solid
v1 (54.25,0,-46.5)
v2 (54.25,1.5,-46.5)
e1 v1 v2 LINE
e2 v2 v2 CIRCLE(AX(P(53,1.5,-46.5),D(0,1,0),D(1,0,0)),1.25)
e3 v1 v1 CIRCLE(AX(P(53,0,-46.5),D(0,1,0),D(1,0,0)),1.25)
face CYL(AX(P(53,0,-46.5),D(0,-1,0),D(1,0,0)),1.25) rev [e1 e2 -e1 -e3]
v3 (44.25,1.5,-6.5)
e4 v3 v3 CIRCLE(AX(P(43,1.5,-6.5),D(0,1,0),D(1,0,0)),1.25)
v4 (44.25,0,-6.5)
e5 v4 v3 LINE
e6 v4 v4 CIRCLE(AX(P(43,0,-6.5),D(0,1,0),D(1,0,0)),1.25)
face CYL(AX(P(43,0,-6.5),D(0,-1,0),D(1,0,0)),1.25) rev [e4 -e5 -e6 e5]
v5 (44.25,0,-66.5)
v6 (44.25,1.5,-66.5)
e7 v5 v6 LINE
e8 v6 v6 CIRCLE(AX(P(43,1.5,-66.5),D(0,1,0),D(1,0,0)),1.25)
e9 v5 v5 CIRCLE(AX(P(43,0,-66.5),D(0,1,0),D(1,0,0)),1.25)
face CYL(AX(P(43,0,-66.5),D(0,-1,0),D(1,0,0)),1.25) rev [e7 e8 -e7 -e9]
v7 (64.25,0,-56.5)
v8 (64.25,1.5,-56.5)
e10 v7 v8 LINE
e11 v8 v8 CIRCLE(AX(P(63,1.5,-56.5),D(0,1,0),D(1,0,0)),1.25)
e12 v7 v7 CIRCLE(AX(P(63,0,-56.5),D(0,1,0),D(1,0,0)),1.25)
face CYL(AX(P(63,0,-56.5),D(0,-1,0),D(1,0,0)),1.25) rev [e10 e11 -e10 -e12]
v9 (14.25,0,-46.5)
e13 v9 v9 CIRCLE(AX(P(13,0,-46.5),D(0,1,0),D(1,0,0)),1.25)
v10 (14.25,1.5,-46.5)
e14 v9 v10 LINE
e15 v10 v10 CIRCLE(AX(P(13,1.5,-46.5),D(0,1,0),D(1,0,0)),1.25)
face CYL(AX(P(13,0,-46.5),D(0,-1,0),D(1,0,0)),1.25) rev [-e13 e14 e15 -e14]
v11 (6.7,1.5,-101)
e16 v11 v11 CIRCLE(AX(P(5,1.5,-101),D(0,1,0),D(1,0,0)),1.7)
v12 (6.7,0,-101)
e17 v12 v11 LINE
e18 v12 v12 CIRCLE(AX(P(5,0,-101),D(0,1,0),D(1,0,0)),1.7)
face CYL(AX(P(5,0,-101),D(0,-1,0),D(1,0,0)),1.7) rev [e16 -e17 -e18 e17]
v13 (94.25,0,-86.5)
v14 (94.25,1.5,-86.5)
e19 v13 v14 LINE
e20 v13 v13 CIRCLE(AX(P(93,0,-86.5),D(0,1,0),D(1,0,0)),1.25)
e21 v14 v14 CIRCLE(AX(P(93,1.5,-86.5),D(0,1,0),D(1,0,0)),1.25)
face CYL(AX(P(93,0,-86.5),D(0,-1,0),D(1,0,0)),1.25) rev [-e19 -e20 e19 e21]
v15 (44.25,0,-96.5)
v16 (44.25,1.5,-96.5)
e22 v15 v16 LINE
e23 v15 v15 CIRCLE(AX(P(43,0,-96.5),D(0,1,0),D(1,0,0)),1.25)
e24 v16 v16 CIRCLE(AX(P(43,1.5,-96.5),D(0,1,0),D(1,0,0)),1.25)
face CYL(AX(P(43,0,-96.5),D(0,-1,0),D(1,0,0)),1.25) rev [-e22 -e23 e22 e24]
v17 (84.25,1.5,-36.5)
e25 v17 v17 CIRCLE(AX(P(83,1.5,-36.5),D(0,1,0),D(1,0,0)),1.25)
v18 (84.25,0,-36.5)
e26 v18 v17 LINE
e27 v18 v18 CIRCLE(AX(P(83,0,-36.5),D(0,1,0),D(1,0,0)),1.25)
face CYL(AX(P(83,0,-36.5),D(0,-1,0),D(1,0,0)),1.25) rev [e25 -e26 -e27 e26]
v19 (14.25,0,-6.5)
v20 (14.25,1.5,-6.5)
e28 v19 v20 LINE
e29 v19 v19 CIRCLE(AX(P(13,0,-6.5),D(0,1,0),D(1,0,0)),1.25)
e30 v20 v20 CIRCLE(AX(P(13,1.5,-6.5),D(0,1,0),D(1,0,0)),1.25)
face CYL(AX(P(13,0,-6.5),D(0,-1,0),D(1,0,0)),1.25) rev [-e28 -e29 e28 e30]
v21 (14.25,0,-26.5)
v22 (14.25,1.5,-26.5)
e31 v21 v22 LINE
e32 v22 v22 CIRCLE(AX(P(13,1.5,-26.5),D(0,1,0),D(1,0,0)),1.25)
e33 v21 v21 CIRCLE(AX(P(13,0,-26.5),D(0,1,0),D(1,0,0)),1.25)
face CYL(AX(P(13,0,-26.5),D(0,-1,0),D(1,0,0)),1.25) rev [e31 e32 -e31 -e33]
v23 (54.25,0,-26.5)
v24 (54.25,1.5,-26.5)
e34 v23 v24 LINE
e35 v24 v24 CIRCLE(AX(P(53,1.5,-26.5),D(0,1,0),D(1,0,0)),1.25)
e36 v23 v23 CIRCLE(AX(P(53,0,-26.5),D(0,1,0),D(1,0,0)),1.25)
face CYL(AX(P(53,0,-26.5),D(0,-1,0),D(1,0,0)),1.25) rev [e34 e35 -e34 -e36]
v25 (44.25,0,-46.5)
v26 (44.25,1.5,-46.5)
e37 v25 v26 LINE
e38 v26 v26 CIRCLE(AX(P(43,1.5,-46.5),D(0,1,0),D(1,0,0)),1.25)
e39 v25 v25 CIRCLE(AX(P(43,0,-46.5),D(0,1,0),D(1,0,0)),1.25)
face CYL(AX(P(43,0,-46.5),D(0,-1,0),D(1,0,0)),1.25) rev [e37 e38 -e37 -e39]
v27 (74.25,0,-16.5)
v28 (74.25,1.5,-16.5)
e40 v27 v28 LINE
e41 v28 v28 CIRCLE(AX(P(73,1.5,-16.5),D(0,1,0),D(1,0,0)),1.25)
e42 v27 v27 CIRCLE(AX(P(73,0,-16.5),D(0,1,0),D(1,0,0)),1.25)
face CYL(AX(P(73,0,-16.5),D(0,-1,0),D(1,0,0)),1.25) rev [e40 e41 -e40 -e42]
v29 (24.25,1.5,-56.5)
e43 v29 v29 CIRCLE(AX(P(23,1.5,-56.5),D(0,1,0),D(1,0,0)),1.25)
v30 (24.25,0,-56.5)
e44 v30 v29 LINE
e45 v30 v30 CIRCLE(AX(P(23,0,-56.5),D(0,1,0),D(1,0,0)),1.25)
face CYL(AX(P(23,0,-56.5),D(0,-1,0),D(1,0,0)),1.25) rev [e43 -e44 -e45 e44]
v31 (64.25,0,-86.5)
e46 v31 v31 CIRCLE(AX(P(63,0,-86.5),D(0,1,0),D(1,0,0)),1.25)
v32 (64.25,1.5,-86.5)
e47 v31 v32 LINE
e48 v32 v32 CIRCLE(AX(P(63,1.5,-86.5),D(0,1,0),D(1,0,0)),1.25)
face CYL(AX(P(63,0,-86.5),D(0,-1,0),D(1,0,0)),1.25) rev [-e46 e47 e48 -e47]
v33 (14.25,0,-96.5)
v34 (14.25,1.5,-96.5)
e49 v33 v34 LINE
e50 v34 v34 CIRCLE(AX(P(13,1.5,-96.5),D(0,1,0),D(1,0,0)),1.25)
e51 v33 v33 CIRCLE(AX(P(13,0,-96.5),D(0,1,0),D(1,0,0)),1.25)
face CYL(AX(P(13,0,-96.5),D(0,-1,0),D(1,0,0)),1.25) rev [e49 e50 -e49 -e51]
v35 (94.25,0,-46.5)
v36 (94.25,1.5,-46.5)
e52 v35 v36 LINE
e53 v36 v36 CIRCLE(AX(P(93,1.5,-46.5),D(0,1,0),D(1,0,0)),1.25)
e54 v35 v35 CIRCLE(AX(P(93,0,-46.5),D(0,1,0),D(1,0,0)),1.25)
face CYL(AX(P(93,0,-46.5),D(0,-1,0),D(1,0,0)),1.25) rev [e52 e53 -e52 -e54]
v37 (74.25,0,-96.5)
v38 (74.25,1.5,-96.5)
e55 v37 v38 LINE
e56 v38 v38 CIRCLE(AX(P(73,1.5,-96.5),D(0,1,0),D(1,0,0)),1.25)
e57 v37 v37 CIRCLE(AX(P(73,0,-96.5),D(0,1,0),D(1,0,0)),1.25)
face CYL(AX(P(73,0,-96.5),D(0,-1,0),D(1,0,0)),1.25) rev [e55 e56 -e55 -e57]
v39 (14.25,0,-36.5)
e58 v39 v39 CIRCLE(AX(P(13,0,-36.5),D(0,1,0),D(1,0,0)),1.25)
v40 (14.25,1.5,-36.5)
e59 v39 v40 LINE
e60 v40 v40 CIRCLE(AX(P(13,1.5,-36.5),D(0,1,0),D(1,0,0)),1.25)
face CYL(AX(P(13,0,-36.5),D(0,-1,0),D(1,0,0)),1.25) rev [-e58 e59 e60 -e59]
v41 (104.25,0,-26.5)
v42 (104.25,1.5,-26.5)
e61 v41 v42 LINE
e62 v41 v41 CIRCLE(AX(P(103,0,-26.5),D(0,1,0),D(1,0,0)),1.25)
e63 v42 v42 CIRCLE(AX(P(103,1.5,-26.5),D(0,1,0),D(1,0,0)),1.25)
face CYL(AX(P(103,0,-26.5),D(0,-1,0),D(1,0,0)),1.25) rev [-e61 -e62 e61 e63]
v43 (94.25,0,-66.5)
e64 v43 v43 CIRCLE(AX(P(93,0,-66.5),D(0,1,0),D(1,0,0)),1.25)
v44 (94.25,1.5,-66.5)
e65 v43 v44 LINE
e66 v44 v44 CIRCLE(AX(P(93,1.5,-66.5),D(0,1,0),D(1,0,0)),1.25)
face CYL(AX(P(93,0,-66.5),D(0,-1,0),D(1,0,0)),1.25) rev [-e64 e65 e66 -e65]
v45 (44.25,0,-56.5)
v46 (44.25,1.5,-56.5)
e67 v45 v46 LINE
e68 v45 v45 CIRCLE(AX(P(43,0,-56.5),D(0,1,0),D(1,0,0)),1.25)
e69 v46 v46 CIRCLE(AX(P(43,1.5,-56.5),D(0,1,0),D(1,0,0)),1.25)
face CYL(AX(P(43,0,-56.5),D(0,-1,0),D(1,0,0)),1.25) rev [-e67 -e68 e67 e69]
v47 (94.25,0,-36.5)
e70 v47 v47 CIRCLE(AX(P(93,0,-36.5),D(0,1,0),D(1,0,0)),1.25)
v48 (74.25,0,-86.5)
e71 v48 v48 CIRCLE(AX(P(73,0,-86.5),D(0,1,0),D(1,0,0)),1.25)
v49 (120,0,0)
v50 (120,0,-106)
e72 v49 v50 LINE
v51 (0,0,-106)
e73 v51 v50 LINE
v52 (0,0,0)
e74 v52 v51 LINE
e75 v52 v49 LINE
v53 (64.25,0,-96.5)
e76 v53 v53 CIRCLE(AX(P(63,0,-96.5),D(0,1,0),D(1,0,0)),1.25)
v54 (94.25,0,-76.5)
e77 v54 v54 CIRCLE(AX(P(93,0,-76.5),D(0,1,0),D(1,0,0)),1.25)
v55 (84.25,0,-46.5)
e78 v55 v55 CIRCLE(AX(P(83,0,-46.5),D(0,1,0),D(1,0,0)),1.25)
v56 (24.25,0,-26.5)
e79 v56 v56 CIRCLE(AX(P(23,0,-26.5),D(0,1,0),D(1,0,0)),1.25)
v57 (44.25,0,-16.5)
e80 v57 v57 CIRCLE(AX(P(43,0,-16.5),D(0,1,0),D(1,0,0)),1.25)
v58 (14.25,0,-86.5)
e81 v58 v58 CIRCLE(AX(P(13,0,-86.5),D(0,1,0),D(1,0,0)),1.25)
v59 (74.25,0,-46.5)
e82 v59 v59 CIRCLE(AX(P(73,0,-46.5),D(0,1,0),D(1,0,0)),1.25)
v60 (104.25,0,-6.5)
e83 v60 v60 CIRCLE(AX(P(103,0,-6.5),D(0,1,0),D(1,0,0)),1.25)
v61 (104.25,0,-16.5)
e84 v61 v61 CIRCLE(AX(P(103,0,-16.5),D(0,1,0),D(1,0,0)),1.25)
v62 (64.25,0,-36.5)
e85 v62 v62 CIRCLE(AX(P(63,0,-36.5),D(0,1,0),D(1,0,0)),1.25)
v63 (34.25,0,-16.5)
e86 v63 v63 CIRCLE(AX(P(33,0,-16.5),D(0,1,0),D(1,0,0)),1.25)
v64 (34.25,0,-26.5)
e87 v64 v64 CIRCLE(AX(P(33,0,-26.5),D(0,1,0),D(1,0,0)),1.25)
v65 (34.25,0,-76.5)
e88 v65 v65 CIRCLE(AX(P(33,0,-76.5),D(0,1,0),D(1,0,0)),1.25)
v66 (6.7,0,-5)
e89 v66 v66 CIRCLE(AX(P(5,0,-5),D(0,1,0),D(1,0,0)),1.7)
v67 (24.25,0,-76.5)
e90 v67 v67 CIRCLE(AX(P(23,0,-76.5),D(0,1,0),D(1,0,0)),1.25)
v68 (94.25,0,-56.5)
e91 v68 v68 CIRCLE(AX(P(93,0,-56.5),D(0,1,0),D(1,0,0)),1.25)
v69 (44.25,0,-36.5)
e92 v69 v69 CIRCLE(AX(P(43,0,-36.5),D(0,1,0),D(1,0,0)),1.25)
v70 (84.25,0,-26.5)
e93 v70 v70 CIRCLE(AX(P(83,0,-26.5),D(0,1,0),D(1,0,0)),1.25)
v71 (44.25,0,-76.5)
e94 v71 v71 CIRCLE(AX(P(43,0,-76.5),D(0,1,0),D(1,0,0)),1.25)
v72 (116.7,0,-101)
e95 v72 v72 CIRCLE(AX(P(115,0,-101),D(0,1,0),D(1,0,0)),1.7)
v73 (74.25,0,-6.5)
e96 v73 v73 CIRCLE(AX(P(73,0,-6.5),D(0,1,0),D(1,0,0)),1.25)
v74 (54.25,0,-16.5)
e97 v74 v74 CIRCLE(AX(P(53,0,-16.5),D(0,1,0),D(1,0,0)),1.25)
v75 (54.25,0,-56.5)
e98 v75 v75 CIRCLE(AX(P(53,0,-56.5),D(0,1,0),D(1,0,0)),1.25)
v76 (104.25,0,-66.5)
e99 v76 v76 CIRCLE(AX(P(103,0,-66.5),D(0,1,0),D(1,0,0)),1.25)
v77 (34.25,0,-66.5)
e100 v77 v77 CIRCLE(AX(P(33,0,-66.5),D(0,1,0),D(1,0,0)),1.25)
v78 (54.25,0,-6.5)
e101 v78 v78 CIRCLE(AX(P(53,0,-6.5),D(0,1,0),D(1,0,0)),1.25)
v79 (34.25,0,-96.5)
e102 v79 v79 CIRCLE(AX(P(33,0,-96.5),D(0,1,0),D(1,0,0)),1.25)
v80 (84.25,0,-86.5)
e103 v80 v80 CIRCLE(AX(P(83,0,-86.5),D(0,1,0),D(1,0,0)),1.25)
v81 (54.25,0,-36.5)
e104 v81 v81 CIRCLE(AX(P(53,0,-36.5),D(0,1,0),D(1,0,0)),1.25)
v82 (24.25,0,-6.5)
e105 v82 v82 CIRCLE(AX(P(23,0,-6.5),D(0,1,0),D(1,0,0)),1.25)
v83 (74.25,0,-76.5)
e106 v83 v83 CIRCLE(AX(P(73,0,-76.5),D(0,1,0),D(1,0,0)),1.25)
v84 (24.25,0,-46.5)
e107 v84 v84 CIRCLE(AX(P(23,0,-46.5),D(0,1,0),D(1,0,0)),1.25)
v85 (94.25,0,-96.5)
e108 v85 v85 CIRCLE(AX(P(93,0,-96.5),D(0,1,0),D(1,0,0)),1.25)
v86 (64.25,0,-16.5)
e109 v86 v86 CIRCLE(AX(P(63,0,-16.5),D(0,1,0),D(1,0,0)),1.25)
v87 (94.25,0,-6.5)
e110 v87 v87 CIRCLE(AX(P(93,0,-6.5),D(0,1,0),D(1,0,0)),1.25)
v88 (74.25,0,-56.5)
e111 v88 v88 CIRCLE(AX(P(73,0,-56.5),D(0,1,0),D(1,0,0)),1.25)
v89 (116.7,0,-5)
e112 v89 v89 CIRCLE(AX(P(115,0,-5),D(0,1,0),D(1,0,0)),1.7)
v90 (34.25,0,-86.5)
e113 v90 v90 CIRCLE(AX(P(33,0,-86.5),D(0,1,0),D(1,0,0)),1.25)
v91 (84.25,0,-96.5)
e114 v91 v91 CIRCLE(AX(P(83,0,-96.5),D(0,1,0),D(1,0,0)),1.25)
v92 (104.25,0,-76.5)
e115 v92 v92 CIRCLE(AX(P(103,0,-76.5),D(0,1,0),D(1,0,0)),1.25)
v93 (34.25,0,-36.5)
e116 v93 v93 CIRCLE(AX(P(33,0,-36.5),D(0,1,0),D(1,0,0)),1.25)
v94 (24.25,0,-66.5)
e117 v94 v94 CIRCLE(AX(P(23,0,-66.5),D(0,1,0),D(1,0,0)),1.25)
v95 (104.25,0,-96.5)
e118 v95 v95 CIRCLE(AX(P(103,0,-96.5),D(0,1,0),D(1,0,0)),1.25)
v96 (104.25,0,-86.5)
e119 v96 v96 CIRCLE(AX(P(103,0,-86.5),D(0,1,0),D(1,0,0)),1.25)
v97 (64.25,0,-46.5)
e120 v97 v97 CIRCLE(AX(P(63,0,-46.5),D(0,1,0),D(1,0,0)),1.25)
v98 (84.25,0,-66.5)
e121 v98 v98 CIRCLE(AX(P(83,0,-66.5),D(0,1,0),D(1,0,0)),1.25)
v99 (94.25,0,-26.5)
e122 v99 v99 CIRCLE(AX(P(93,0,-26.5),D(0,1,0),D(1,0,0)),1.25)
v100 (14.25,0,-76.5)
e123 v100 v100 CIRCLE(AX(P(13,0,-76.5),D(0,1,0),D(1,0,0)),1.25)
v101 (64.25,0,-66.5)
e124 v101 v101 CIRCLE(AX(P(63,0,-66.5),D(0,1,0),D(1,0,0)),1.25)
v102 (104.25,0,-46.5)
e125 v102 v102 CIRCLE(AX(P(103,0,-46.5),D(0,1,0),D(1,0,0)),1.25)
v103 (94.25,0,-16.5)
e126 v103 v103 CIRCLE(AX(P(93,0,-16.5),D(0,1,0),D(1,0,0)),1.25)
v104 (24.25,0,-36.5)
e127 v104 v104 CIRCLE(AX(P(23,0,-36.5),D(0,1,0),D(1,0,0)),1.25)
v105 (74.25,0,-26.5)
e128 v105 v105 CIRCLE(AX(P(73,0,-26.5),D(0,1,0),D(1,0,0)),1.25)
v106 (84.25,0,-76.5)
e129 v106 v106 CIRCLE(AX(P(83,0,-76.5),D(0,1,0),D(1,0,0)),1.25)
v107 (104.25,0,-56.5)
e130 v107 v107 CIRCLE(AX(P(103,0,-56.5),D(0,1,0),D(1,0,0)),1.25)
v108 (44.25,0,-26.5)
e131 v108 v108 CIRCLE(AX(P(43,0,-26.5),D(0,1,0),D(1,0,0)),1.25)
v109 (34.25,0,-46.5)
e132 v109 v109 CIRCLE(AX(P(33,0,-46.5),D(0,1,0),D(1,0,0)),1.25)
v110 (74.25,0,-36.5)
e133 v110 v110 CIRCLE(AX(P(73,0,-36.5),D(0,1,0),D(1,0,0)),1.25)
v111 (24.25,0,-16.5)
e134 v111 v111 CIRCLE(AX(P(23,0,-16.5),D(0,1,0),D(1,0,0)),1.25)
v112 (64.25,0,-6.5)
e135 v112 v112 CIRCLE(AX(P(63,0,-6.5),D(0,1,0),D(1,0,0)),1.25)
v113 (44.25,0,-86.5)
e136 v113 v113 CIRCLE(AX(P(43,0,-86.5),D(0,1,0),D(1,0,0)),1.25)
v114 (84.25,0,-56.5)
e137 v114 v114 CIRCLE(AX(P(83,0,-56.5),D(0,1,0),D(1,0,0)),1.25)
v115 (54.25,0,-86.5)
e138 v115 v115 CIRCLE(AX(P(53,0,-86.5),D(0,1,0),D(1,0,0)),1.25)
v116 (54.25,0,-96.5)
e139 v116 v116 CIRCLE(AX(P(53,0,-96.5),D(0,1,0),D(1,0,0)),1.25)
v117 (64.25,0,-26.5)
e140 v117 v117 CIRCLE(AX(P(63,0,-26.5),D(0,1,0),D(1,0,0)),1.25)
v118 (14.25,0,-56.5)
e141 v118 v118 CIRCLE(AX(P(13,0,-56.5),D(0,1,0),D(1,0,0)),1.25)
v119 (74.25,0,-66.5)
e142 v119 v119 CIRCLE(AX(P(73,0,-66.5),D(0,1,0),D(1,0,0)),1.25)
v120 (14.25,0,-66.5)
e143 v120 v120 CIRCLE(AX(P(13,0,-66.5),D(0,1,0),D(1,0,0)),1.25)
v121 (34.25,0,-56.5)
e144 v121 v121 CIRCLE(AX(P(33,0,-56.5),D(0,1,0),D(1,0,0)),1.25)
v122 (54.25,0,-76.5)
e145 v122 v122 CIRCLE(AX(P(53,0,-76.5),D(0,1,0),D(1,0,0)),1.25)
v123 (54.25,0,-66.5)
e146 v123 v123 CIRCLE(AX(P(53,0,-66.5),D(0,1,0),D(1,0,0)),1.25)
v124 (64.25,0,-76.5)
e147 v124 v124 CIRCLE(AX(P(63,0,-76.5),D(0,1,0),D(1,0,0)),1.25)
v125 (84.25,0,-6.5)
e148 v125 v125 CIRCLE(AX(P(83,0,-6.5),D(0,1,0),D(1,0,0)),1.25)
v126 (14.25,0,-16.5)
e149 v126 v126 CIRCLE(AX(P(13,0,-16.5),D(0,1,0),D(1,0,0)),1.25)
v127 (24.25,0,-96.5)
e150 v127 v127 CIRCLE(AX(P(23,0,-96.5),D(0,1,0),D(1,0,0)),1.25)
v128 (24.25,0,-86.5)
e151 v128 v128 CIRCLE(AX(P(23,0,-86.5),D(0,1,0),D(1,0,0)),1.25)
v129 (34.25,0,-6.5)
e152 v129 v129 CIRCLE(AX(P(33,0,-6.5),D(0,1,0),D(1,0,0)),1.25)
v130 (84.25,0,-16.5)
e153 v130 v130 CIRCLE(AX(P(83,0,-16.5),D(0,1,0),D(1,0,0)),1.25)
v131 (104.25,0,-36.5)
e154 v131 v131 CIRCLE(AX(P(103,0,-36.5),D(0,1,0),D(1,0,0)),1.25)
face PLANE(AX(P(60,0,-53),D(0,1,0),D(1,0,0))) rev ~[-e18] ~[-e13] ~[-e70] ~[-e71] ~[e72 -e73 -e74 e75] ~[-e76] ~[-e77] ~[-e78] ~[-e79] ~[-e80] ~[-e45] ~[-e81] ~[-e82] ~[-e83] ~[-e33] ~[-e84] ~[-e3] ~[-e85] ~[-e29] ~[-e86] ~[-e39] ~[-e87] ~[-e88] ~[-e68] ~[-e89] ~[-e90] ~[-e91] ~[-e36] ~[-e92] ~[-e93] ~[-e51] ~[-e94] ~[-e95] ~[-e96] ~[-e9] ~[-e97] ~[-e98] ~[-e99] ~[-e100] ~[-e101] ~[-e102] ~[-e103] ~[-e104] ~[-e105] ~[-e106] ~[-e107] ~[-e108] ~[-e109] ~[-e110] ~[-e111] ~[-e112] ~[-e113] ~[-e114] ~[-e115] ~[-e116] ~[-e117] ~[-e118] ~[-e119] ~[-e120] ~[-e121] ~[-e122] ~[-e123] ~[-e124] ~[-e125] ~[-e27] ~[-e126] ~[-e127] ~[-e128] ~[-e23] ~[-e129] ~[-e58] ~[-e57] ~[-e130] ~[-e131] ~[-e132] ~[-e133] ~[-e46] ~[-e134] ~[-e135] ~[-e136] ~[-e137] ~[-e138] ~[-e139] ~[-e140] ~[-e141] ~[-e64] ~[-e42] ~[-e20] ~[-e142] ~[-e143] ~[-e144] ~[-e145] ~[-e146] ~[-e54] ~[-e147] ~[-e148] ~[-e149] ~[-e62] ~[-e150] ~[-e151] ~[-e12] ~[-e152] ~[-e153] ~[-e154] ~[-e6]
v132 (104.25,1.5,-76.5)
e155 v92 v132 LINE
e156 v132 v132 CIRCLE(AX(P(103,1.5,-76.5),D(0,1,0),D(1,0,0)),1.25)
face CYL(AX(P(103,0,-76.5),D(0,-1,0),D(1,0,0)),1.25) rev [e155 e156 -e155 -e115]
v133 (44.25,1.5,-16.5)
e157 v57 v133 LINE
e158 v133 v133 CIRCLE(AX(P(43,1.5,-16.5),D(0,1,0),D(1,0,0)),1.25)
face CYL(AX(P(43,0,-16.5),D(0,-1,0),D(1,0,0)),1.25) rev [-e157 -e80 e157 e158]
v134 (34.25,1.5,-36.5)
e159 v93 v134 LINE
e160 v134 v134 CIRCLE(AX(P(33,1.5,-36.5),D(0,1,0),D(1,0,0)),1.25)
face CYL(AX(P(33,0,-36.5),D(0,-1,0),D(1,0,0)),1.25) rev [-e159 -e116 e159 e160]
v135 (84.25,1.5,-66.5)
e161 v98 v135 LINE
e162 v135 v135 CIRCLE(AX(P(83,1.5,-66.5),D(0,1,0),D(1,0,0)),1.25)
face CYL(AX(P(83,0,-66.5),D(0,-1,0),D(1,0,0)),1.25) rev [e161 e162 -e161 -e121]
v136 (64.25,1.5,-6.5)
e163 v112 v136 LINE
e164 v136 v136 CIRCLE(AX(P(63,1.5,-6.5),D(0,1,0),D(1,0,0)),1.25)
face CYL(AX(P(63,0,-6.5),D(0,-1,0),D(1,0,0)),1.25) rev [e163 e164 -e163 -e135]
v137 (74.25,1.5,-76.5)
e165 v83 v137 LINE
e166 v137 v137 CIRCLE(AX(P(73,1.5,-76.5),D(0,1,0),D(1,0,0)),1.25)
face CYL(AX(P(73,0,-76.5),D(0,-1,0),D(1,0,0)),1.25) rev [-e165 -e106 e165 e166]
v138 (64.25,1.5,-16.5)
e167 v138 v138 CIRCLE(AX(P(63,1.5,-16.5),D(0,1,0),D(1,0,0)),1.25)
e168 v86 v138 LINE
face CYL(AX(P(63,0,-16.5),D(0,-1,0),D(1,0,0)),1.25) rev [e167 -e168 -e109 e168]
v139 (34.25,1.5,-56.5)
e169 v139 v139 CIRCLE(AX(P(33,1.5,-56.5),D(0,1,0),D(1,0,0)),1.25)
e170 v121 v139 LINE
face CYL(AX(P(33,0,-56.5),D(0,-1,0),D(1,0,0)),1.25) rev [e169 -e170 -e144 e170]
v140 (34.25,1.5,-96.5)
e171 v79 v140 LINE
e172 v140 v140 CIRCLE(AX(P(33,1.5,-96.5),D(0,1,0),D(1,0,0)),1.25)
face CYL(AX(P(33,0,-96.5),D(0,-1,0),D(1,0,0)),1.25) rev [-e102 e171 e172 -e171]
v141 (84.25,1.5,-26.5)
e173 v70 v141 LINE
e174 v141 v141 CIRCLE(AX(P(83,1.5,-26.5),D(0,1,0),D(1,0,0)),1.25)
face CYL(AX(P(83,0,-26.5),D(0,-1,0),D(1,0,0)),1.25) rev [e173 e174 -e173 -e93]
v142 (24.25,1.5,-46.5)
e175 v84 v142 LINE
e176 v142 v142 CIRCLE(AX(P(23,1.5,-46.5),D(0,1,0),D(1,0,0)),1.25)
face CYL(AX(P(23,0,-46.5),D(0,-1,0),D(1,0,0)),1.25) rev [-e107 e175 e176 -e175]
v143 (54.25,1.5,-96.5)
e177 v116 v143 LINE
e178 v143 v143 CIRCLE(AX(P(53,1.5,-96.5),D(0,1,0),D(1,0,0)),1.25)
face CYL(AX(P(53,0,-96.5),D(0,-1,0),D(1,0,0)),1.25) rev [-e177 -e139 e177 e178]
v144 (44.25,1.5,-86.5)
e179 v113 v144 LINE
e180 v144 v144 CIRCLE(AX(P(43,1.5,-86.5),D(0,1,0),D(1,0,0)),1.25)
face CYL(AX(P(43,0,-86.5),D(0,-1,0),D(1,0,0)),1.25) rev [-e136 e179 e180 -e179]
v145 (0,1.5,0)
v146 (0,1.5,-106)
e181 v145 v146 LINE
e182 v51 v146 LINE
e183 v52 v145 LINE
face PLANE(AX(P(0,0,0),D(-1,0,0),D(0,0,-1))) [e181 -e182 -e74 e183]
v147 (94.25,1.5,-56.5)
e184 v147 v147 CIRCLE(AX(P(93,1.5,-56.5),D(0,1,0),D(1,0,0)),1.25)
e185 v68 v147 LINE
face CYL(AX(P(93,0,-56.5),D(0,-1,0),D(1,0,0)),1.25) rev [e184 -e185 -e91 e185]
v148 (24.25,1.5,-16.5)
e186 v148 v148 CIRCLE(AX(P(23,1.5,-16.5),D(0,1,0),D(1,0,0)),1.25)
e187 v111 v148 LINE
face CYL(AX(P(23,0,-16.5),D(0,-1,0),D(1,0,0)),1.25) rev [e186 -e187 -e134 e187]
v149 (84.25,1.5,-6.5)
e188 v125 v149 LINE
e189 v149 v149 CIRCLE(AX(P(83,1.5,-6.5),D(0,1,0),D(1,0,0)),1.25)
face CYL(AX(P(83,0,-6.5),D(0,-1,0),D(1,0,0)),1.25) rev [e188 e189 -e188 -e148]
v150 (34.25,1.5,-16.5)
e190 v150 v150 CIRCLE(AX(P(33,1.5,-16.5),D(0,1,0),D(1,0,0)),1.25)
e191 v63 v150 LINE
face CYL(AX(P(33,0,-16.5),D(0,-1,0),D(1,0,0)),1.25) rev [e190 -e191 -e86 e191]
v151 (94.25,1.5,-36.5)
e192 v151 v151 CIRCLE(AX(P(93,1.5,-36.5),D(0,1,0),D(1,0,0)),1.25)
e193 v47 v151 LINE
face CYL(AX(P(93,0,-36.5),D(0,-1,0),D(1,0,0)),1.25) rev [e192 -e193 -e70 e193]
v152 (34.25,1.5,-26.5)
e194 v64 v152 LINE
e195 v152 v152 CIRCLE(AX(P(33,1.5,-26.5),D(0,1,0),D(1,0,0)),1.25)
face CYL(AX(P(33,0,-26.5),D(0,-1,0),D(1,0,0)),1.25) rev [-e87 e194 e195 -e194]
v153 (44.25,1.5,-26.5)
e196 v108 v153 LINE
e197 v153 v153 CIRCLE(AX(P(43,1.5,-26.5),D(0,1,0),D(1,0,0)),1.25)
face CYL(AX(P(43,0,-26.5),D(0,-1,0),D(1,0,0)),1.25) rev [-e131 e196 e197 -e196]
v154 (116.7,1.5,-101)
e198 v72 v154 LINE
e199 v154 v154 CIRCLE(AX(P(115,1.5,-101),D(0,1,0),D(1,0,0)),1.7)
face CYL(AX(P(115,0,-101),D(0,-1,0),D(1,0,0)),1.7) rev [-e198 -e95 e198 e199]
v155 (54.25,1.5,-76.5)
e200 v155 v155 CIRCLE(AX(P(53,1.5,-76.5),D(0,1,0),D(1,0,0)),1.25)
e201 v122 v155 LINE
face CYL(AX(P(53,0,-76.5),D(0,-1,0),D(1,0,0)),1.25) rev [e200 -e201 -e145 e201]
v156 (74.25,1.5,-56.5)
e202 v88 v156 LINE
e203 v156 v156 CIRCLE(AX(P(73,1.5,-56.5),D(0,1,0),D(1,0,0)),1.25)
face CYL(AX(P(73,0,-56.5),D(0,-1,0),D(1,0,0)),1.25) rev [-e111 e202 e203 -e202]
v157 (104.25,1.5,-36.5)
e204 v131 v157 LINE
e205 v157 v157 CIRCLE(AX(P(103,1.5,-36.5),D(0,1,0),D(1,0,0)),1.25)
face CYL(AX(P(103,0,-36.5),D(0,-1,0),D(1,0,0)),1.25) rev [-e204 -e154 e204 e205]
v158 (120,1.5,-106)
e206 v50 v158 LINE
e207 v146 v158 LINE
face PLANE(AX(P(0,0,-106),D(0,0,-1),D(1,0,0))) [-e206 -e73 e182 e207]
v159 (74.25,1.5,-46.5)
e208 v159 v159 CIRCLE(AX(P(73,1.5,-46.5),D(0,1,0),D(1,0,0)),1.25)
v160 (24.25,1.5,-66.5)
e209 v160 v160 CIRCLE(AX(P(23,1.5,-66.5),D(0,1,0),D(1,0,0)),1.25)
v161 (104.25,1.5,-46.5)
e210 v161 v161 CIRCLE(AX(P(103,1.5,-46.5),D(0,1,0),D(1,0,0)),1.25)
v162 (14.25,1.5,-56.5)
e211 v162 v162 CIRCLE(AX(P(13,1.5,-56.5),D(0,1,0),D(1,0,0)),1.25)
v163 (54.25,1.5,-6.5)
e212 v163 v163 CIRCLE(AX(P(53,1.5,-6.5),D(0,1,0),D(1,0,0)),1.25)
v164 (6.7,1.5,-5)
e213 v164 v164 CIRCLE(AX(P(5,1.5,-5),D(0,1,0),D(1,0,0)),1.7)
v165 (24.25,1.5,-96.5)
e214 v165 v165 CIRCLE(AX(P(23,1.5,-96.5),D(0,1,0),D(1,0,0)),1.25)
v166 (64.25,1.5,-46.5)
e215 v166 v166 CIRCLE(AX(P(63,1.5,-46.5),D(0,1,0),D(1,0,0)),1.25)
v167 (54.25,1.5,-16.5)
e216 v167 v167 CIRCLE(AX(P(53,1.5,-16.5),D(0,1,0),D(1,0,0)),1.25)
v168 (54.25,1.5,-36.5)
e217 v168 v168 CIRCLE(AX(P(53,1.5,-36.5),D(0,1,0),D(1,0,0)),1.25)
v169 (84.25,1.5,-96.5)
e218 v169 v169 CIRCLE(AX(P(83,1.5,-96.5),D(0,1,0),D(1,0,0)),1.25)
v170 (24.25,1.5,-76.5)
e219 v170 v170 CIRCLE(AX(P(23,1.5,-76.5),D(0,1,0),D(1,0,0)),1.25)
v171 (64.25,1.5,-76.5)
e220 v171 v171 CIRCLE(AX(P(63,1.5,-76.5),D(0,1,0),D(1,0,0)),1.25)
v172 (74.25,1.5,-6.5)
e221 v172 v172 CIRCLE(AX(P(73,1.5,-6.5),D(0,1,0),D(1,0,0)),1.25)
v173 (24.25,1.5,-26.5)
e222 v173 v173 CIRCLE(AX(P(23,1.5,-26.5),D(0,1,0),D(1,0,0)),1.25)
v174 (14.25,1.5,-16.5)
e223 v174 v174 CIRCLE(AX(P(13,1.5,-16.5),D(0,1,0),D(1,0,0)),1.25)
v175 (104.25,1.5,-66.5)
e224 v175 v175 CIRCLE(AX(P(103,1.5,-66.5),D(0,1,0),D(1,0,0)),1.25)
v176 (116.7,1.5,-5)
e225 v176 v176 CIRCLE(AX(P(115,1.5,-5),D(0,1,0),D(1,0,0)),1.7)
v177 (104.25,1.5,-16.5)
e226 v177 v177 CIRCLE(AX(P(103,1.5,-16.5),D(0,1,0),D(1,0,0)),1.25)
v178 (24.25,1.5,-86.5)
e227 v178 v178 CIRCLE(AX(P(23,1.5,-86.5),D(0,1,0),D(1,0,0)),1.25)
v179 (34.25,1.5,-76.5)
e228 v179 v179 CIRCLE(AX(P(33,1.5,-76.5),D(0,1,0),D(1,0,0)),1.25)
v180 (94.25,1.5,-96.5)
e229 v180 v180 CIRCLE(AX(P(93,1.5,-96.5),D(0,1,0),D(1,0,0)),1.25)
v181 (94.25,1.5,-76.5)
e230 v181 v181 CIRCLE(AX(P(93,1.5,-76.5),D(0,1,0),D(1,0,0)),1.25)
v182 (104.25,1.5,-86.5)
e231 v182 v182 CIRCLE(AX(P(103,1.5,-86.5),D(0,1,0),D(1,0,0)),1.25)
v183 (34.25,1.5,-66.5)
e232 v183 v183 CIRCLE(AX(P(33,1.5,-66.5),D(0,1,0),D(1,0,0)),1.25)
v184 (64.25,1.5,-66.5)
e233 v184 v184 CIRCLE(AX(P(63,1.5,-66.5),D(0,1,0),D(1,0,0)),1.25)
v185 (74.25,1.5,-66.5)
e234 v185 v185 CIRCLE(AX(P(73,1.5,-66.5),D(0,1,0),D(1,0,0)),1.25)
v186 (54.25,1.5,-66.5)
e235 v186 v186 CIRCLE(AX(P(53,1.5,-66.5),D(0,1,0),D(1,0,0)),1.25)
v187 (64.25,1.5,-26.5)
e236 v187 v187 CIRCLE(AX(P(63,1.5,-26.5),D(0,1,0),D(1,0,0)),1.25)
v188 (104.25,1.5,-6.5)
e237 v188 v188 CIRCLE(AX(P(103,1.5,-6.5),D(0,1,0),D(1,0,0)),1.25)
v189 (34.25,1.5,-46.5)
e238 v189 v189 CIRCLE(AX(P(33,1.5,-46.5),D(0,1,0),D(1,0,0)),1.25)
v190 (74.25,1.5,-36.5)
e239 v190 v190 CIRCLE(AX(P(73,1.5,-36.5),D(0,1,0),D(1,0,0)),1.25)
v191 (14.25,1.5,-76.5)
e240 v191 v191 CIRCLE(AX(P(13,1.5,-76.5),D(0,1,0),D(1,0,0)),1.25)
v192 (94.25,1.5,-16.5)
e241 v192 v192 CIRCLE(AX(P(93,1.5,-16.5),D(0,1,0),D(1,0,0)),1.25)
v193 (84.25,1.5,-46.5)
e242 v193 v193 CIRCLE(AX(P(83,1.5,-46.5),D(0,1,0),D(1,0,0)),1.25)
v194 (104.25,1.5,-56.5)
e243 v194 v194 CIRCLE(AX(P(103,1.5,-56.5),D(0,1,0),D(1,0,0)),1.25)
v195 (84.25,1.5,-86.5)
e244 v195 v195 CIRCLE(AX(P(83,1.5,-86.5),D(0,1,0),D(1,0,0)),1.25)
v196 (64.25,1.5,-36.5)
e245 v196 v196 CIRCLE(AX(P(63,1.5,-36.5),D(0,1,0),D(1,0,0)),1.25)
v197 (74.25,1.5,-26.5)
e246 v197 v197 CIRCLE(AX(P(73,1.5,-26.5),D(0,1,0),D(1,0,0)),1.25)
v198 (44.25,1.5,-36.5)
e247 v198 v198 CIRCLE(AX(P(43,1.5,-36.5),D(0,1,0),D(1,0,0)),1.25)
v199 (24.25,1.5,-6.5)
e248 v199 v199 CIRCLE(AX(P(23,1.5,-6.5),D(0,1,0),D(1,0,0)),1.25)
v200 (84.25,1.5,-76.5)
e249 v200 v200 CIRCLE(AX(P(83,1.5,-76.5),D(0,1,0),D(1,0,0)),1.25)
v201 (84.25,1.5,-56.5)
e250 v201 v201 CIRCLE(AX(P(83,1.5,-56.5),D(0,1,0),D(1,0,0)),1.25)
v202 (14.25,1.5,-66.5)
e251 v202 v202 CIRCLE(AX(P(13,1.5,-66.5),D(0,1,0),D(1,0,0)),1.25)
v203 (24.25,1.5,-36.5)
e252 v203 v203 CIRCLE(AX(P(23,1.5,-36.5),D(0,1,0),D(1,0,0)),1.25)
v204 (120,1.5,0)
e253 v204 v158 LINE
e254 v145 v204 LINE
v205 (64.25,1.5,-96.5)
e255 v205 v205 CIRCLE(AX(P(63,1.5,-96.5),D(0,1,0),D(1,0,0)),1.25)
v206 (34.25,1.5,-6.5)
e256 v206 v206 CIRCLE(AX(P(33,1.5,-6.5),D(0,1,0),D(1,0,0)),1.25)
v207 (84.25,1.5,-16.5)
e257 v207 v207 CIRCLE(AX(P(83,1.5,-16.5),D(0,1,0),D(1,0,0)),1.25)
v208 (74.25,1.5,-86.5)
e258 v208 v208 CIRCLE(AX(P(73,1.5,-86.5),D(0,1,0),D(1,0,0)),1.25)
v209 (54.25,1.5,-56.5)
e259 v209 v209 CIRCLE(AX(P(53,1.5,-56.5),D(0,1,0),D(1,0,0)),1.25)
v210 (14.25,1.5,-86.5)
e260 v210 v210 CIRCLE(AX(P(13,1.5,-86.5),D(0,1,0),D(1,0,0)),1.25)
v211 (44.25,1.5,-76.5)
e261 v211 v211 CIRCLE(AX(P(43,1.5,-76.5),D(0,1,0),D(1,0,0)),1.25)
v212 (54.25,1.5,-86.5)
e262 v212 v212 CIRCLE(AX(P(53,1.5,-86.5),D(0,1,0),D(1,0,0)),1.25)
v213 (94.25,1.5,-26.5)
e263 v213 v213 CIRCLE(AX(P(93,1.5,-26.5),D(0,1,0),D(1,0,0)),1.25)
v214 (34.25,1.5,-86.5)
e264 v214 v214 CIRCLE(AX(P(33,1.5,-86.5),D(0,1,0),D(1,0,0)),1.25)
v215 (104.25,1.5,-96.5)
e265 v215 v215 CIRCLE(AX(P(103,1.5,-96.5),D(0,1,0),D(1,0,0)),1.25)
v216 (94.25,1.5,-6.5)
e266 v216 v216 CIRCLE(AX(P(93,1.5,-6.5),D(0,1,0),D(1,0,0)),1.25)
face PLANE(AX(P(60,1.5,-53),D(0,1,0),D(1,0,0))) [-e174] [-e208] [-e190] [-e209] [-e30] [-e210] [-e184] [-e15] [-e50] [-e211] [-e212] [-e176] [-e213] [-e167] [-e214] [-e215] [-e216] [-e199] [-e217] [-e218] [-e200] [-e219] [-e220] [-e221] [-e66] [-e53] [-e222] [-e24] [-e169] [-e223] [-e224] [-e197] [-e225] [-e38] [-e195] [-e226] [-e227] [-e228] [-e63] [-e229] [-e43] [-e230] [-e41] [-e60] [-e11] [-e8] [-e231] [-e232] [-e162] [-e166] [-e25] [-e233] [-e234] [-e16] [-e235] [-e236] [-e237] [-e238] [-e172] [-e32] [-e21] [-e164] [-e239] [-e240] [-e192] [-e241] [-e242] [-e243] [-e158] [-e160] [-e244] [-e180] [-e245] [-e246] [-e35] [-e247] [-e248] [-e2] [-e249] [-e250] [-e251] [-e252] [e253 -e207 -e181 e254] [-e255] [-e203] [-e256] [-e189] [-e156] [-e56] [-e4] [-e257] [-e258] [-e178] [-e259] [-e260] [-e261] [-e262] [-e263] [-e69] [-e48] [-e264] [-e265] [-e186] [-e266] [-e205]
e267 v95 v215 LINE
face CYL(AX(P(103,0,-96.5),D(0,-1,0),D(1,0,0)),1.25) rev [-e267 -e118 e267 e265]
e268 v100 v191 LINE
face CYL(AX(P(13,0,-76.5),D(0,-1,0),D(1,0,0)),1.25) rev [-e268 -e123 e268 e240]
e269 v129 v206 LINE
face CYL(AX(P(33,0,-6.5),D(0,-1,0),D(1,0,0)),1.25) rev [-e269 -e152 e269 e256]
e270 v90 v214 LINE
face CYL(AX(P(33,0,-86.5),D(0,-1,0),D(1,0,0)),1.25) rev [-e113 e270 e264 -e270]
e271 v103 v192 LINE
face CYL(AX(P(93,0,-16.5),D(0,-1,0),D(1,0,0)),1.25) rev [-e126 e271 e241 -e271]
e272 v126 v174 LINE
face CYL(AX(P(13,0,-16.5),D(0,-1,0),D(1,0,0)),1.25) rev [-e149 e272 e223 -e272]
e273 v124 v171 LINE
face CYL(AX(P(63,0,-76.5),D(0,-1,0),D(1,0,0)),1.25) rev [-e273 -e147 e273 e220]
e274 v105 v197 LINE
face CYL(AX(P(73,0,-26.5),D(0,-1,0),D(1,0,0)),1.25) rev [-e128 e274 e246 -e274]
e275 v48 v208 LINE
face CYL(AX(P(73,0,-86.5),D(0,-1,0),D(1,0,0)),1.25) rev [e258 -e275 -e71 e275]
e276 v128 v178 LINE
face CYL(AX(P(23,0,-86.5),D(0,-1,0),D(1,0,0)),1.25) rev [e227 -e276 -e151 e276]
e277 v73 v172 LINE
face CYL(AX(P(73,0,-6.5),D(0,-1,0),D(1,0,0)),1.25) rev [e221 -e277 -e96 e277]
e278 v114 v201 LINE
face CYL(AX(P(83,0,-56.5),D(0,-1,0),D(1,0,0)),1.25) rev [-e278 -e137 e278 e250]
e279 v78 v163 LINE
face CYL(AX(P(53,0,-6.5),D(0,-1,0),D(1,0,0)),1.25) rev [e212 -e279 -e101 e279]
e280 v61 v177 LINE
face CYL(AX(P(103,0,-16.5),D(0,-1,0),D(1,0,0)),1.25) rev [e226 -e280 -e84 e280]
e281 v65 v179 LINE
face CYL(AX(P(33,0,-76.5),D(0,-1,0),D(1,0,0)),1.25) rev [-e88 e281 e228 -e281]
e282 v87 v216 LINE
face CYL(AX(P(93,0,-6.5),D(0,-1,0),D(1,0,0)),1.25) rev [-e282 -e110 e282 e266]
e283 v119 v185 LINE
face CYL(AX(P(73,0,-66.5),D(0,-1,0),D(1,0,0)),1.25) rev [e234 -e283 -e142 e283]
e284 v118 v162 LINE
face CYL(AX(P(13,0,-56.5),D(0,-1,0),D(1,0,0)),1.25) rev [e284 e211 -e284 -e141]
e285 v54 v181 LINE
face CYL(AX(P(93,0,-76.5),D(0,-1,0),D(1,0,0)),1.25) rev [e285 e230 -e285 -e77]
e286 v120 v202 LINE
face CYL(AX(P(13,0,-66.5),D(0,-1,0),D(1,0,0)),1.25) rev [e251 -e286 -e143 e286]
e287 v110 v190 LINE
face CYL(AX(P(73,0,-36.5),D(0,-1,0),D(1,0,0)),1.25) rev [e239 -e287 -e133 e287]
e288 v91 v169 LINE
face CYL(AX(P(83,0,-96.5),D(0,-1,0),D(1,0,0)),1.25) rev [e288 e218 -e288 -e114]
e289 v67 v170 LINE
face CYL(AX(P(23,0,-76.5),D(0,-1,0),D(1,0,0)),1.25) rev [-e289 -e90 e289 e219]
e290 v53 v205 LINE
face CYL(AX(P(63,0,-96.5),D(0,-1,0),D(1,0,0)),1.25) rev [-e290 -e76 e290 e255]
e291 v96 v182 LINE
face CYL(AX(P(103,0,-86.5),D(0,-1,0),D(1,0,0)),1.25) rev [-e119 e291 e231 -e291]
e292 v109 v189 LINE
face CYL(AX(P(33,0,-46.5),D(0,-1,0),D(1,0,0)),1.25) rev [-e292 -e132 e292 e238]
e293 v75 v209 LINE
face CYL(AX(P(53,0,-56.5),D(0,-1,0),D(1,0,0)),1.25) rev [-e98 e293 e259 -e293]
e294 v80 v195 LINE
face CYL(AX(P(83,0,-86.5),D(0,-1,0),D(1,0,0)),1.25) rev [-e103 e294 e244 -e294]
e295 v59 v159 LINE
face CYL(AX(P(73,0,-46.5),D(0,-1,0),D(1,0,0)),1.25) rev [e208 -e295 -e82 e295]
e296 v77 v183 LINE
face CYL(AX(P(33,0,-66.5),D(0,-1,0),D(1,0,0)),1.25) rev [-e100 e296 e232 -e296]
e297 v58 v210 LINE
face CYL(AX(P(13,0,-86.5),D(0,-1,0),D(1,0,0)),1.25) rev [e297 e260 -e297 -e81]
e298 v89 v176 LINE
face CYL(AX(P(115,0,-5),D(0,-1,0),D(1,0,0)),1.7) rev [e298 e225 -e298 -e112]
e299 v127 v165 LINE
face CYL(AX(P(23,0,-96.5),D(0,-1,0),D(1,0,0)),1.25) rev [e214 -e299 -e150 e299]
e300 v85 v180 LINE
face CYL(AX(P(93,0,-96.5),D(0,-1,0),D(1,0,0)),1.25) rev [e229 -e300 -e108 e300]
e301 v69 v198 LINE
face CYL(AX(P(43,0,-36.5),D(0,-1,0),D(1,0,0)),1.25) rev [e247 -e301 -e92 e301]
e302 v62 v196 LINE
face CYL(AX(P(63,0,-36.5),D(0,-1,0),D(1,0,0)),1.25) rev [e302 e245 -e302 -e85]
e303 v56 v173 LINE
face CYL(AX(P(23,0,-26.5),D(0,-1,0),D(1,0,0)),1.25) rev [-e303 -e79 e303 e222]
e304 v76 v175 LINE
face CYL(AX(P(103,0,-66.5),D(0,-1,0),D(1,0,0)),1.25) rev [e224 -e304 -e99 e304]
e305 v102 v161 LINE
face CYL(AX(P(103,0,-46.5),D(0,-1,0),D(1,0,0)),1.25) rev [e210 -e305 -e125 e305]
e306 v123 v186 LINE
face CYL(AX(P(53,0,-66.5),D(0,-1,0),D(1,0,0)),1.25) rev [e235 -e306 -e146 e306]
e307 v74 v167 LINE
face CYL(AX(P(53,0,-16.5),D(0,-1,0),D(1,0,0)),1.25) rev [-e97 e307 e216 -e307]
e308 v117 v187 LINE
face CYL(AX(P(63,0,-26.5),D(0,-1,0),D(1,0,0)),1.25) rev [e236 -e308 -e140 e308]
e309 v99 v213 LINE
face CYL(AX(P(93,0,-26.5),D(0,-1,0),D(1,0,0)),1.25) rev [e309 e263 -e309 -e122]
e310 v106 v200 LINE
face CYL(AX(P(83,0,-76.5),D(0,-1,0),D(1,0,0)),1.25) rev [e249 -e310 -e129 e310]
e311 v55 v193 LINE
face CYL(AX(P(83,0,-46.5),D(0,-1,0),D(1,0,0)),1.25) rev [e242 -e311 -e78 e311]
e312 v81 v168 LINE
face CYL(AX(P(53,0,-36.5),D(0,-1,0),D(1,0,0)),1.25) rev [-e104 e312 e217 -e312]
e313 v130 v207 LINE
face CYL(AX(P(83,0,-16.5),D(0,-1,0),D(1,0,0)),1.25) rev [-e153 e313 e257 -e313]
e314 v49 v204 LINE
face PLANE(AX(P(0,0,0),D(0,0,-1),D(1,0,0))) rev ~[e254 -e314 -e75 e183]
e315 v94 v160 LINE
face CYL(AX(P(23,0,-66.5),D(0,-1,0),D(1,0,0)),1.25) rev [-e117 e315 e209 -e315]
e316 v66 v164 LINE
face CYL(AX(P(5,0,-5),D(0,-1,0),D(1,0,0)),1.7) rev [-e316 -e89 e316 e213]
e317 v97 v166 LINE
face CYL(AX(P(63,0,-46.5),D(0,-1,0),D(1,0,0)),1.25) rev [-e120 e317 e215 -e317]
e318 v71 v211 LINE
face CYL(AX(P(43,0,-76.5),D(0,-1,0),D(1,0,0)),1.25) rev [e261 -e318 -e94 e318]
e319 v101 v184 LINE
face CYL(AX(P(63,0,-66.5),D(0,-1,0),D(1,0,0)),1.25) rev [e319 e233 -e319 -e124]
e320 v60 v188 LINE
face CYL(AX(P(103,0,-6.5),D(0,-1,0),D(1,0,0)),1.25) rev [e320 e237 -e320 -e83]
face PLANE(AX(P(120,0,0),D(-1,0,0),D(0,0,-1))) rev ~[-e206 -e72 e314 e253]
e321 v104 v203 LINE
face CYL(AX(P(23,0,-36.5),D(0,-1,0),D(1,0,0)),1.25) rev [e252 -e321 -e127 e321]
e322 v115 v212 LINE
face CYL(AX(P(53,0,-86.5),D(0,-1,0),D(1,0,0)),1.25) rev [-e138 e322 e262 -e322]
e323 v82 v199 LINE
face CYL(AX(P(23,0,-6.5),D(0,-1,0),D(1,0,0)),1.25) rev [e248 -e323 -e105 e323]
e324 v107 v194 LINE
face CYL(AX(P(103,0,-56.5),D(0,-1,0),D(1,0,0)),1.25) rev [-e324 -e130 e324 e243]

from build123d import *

# Parameters (mm, degrees)
SKETCH1_W           = 120
SKETCH1_H           = 106
SKETCH1_R           = 1.25
SKETCH1_R_2         = 1.7
BOSS_EXTRUDE1_DEPTH = 1.5


with BuildPart() as part:
    # Sketch1 → Boss-Extrude1 (new body)
    with BuildSketch(Plane(origin=(0, 0, 0), x_dir=(1, 0, 0), z_dir=(0, 1, 0))):
        with Locations((60, 53)):
            Rectangle(SKETCH1_W, SKETCH1_H)
        with Locations((13, 36.5)):
            Circle(SKETCH1_R, mode=Mode.SUBTRACT)
        with Locations((23, 36.5)):
            Circle(SKETCH1_R, mode=Mode.SUBTRACT)
        with Locations((13, 6.5)):
            Circle(SKETCH1_R, mode=Mode.SUBTRACT)
        with Locations((5, 5)):
            Circle(SKETCH1_R_2, mode=Mode.SUBTRACT)
        with Locations((5, 101)):
            Circle(SKETCH1_R_2, mode=Mode.SUBTRACT)
        with Locations((115, 101)):
            Circle(SKETCH1_R_2, mode=Mode.SUBTRACT)
        with Locations((115, 5)):
            Circle(SKETCH1_R_2, mode=Mode.SUBTRACT)
        with Locations((23, 6.5)):
            Circle(SKETCH1_R, mode=Mode.SUBTRACT)
        with Locations((33, 6.5)):
            Circle(SKETCH1_R, mode=Mode.SUBTRACT)
        with Locations((23, 16.5)):
            Circle(SKETCH1_R, mode=Mode.SUBTRACT)
        with Locations((33, 16.5)):
            Circle(SKETCH1_R, mode=Mode.SUBTRACT)
        with Locations((23, 26.5)):
            Circle(SKETCH1_R, mode=Mode.SUBTRACT)
        with Locations((33, 26.5)):
            Circle(SKETCH1_R, mode=Mode.SUBTRACT)
        with Locations((13, 16.5)):
            Circle(SKETCH1_R, mode=Mode.SUBTRACT)
        with Locations((13, 26.5)):
            Circle(SKETCH1_R, mode=Mode.SUBTRACT)
        with Locations((33, 36.5)):
            Circle(SKETCH1_R, mode=Mode.SUBTRACT)
        with Locations((13, 46.5)):
            Circle(SKETCH1_R, mode=Mode.SUBTRACT)
        with Locations((23, 46.5)):
            Circle(SKETCH1_R, mode=Mode.SUBTRACT)
        with Locations((33, 46.5)):
            Circle(SKETCH1_R, mode=Mode.SUBTRACT)
        with Locations((13, 56.5)):
            Circle(SKETCH1_R, mode=Mode.SUBTRACT)
        with Locations((23, 56.5)):
            Circle(SKETCH1_R, mode=Mode.SUBTRACT)
        with Locations((33, 56.5)):
            Circle(SKETCH1_R, mode=Mode.SUBTRACT)
        with Locations((13, 66.5)):
            Circle(SKETCH1_R, mode=Mode.SUBTRACT)
        with Locations((23, 66.5)):
            Circle(SKETCH1_R, mode=Mode.SUBTRACT)
        with Locations((33, 66.5)):
            Circle(SKETCH1_R, mode=Mode.SUBTRACT)
        with Locations((13, 76.5)):
            Circle(SKETCH1_R, mode=Mode.SUBTRACT)
        with Locations((23, 76.5)):
            Circle(SKETCH1_R, mode=Mode.SUBTRACT)
        with Locations((33, 76.5)):
            Circle(SKETCH1_R, mode=Mode.SUBTRACT)
        with Locations((13, 86.5)):
            Circle(SKETCH1_R, mode=Mode.SUBTRACT)
        with Locations((23, 86.5)):
            Circle(SKETCH1_R, mode=Mode.SUBTRACT)
        with Locations((33, 86.5)):
            Circle(SKETCH1_R, mode=Mode.SUBTRACT)
        with Locations((13, 96.5)):
            Circle(SKETCH1_R, mode=Mode.SUBTRACT)
        with Locations((23, 96.5)):
            Circle(SKETCH1_R, mode=Mode.SUBTRACT)
        with Locations((33, 96.5)):
            Circle(SKETCH1_R, mode=Mode.SUBTRACT)
        with Locations((43, 6.5)):
            Circle(SKETCH1_R, mode=Mode.SUBTRACT)
        with Locations((53, 6.5)):
            Circle(SKETCH1_R, mode=Mode.SUBTRACT)
        with Locations((63, 6.5)):
            Circle(SKETCH1_R, mode=Mode.SUBTRACT)
        with Locations((73, 6.5)):
            Circle(SKETCH1_R, mode=Mode.SUBTRACT)
        with Locations((83, 6.5)):
            Circle(SKETCH1_R, mode=Mode.SUBTRACT)
        with Locations((93, 6.5)):
            Circle(SKETCH1_R, mode=Mode.SUBTRACT)
        with Locations((103, 6.5)):
            Circle(SKETCH1_R, mode=Mode.SUBTRACT)
        with Locations((43, 16.5)):
            Circle(SKETCH1_R, mode=Mode.SUBTRACT)
        with Locations((53, 16.5)):
            Circle(SKETCH1_R, mode=Mode.SUBTRACT)
        with Locations((63, 16.5)):
            Circle(SKETCH1_R, mode=Mode.SUBTRACT)
        with Locations((73, 16.5)):
            Circle(SKETCH1_R, mode=Mode.SUBTRACT)
        with Locations((83, 16.5)):
            Circle(SKETCH1_R, mode=Mode.SUBTRACT)
        with Locations((93, 16.5)):
            Circle(SKETCH1_R, mode=Mode.SUBTRACT)
        with Locations((103, 16.5)):
            Circle(SKETCH1_R, mode=Mode.SUBTRACT)
        with Locations((43, 26.5)):
            Circle(SKETCH1_R, mode=Mode.SUBTRACT)
        with Locations((53, 26.5)):
            Circle(SKETCH1_R, mode=Mode.SUBTRACT)
        with Locations((63, 26.5)):
            Circle(SKETCH1_R, mode=Mode.SUBTRACT)
        with Locations((73, 26.5)):
            Circle(SKETCH1_R, mode=Mode.SUBTRACT)
        with Locations((83, 26.5)):
            Circle(SKETCH1_R, mode=Mode.SUBTRACT)
        with Locations((93, 26.5)):
            Circle(SKETCH1_R, mode=Mode.SUBTRACT)
        with Locations((103, 26.5)):
            Circle(SKETCH1_R, mode=Mode.SUBTRACT)
        with Locations((43, 36.5)):
            Circle(SKETCH1_R, mode=Mode.SUBTRACT)
        with Locations((53, 36.5)):
            Circle(SKETCH1_R, mode=Mode.SUBTRACT)
        with Locations((63, 36.5)):
            Circle(SKETCH1_R, mode=Mode.SUBTRACT)
        with Locations((73, 36.5)):
            Circle(SKETCH1_R, mode=Mode.SUBTRACT)
        with Locations((83, 36.5)):
            Circle(SKETCH1_R, mode=Mode.SUBTRACT)
        with Locations((93, 36.5)):
            Circle(SKETCH1_R, mode=Mode.SUBTRACT)
        with Locations((103, 36.5)):
            Circle(SKETCH1_R, mode=Mode.SUBTRACT)
        with Locations((43, 46.5)):
            Circle(SKETCH1_R, mode=Mode.SUBTRACT)
        with Locations((53, 46.5)):
            Circle(SKETCH1_R, mode=Mode.SUBTRACT)
        with Locations((63, 46.5)):
            Circle(SKETCH1_R, mode=Mode.SUBTRACT)
        with Locations((73, 46.5)):
            Circle(SKETCH1_R, mode=Mode.SUBTRACT)
        with Locations((83, 46.5)):
            Circle(SKETCH1_R, mode=Mode.SUBTRACT)
        with Locations((93, 46.5)):
            Circle(SKETCH1_R, mode=Mode.SUBTRACT)
        with Locations((103, 46.5)):
            Circle(SKETCH1_R, mode=Mode.SUBTRACT)
        with Locations((43, 56.5)):
            Circle(SKETCH1_R, mode=Mode.SUBTRACT)
        with Locations((53, 56.5)):
            Circle(SKETCH1_R, mode=Mode.SUBTRACT)
        with Locations((63, 56.5)):
            Circle(SKETCH1_R, mode=Mode.SUBTRACT)
        with Locations((73, 56.5)):
            Circle(SKETCH1_R, mode=Mode.SUBTRACT)
        with Locations((83, 56.5)):
            Circle(SKETCH1_R, mode=Mode.SUBTRACT)
        with Locations((93, 56.5)):
            Circle(SKETCH1_R, mode=Mode.SUBTRACT)
        with Locations((103, 56.5)):
            Circle(SKETCH1_R, mode=Mode.SUBTRACT)
        with Locations((43, 66.5)):
            Circle(SKETCH1_R, mode=Mode.SUBTRACT)
        with Locations((53, 66.5)):
            Circle(SKETCH1_R, mode=Mode.SUBTRACT)
        with Locations((63, 66.5)):
            Circle(SKETCH1_R, mode=Mode.SUBTRACT)
        with Locations((73, 66.5)):
            Circle(SKETCH1_R, mode=Mode.SUBTRACT)
        with Locations((83, 66.5)):
            Circle(SKETCH1_R, mode=Mode.SUBTRACT)
        with Locations((93, 66.5)):
            Circle(SKETCH1_R, mode=Mode.SUBTRACT)
        with Locations((103, 66.5)):
            Circle(SKETCH1_R, mode=Mode.SUBTRACT)
        with Locations((43, 76.5)):
            Circle(SKETCH1_R, mode=Mode.SUBTRACT)
        with Locations((53, 76.5)):
            Circle(SKETCH1_R, mode=Mode.SUBTRACT)
        with Locations((63, 76.5)):
            Circle(SKETCH1_R, mode=Mode.SUBTRACT)
        with Locations((73, 76.5)):
            Circle(SKETCH1_R, mode=Mode.SUBTRACT)
        with Locations((83, 76.5)):
            Circle(SKETCH1_R, mode=Mode.SUBTRACT)
        with Locations((93, 76.5)):
            Circle(SKETCH1_R, mode=Mode.SUBTRACT)
        with Locations((103, 76.5)):
            Circle(SKETCH1_R, mode=Mode.SUBTRACT)
        with Locations((43, 86.5)):
            Circle(SKETCH1_R, mode=Mode.SUBTRACT)
        with Locations((53, 86.5)):
            Circle(SKETCH1_R, mode=Mode.SUBTRACT)
        with Locations((63, 86.5)):
            Circle(SKETCH1_R, mode=Mode.SUBTRACT)
        with Locations((73, 86.5)):
            Circle(SKETCH1_R, mode=Mode.SUBTRACT)
        with Locations((83, 86.5)):
            Circle(SKETCH1_R, mode=Mode.SUBTRACT)
        with Locations((93, 86.5)):
            Circle(SKETCH1_R, mode=Mode.SUBTRACT)
        with Locations((103, 86.5)):
            Circle(SKETCH1_R, mode=Mode.SUBTRACT)
        with Locations((43, 96.5)):
            Circle(SKETCH1_R, mode=Mode.SUBTRACT)
        with Locations((53, 96.5)):
            Circle(SKETCH1_R, mode=Mode.SUBTRACT)
        with Locations((63, 96.5)):
            Circle(SKETCH1_R, mode=Mode.SUBTRACT)
        with Locations((73, 96.5)):
            Circle(SKETCH1_R, mode=Mode.SUBTRACT)
        with Locations((83, 96.5)):
            Circle(SKETCH1_R, mode=Mode.SUBTRACT)
        with Locations((93, 96.5)):
            Circle(SKETCH1_R, mode=Mode.SUBTRACT)
        with Locations((103, 96.5)):
            Circle(SKETCH1_R, mode=Mode.SUBTRACT)
    extrude(amount=BOSS_EXTRUDE1_DEPTH)


solid = part.part
